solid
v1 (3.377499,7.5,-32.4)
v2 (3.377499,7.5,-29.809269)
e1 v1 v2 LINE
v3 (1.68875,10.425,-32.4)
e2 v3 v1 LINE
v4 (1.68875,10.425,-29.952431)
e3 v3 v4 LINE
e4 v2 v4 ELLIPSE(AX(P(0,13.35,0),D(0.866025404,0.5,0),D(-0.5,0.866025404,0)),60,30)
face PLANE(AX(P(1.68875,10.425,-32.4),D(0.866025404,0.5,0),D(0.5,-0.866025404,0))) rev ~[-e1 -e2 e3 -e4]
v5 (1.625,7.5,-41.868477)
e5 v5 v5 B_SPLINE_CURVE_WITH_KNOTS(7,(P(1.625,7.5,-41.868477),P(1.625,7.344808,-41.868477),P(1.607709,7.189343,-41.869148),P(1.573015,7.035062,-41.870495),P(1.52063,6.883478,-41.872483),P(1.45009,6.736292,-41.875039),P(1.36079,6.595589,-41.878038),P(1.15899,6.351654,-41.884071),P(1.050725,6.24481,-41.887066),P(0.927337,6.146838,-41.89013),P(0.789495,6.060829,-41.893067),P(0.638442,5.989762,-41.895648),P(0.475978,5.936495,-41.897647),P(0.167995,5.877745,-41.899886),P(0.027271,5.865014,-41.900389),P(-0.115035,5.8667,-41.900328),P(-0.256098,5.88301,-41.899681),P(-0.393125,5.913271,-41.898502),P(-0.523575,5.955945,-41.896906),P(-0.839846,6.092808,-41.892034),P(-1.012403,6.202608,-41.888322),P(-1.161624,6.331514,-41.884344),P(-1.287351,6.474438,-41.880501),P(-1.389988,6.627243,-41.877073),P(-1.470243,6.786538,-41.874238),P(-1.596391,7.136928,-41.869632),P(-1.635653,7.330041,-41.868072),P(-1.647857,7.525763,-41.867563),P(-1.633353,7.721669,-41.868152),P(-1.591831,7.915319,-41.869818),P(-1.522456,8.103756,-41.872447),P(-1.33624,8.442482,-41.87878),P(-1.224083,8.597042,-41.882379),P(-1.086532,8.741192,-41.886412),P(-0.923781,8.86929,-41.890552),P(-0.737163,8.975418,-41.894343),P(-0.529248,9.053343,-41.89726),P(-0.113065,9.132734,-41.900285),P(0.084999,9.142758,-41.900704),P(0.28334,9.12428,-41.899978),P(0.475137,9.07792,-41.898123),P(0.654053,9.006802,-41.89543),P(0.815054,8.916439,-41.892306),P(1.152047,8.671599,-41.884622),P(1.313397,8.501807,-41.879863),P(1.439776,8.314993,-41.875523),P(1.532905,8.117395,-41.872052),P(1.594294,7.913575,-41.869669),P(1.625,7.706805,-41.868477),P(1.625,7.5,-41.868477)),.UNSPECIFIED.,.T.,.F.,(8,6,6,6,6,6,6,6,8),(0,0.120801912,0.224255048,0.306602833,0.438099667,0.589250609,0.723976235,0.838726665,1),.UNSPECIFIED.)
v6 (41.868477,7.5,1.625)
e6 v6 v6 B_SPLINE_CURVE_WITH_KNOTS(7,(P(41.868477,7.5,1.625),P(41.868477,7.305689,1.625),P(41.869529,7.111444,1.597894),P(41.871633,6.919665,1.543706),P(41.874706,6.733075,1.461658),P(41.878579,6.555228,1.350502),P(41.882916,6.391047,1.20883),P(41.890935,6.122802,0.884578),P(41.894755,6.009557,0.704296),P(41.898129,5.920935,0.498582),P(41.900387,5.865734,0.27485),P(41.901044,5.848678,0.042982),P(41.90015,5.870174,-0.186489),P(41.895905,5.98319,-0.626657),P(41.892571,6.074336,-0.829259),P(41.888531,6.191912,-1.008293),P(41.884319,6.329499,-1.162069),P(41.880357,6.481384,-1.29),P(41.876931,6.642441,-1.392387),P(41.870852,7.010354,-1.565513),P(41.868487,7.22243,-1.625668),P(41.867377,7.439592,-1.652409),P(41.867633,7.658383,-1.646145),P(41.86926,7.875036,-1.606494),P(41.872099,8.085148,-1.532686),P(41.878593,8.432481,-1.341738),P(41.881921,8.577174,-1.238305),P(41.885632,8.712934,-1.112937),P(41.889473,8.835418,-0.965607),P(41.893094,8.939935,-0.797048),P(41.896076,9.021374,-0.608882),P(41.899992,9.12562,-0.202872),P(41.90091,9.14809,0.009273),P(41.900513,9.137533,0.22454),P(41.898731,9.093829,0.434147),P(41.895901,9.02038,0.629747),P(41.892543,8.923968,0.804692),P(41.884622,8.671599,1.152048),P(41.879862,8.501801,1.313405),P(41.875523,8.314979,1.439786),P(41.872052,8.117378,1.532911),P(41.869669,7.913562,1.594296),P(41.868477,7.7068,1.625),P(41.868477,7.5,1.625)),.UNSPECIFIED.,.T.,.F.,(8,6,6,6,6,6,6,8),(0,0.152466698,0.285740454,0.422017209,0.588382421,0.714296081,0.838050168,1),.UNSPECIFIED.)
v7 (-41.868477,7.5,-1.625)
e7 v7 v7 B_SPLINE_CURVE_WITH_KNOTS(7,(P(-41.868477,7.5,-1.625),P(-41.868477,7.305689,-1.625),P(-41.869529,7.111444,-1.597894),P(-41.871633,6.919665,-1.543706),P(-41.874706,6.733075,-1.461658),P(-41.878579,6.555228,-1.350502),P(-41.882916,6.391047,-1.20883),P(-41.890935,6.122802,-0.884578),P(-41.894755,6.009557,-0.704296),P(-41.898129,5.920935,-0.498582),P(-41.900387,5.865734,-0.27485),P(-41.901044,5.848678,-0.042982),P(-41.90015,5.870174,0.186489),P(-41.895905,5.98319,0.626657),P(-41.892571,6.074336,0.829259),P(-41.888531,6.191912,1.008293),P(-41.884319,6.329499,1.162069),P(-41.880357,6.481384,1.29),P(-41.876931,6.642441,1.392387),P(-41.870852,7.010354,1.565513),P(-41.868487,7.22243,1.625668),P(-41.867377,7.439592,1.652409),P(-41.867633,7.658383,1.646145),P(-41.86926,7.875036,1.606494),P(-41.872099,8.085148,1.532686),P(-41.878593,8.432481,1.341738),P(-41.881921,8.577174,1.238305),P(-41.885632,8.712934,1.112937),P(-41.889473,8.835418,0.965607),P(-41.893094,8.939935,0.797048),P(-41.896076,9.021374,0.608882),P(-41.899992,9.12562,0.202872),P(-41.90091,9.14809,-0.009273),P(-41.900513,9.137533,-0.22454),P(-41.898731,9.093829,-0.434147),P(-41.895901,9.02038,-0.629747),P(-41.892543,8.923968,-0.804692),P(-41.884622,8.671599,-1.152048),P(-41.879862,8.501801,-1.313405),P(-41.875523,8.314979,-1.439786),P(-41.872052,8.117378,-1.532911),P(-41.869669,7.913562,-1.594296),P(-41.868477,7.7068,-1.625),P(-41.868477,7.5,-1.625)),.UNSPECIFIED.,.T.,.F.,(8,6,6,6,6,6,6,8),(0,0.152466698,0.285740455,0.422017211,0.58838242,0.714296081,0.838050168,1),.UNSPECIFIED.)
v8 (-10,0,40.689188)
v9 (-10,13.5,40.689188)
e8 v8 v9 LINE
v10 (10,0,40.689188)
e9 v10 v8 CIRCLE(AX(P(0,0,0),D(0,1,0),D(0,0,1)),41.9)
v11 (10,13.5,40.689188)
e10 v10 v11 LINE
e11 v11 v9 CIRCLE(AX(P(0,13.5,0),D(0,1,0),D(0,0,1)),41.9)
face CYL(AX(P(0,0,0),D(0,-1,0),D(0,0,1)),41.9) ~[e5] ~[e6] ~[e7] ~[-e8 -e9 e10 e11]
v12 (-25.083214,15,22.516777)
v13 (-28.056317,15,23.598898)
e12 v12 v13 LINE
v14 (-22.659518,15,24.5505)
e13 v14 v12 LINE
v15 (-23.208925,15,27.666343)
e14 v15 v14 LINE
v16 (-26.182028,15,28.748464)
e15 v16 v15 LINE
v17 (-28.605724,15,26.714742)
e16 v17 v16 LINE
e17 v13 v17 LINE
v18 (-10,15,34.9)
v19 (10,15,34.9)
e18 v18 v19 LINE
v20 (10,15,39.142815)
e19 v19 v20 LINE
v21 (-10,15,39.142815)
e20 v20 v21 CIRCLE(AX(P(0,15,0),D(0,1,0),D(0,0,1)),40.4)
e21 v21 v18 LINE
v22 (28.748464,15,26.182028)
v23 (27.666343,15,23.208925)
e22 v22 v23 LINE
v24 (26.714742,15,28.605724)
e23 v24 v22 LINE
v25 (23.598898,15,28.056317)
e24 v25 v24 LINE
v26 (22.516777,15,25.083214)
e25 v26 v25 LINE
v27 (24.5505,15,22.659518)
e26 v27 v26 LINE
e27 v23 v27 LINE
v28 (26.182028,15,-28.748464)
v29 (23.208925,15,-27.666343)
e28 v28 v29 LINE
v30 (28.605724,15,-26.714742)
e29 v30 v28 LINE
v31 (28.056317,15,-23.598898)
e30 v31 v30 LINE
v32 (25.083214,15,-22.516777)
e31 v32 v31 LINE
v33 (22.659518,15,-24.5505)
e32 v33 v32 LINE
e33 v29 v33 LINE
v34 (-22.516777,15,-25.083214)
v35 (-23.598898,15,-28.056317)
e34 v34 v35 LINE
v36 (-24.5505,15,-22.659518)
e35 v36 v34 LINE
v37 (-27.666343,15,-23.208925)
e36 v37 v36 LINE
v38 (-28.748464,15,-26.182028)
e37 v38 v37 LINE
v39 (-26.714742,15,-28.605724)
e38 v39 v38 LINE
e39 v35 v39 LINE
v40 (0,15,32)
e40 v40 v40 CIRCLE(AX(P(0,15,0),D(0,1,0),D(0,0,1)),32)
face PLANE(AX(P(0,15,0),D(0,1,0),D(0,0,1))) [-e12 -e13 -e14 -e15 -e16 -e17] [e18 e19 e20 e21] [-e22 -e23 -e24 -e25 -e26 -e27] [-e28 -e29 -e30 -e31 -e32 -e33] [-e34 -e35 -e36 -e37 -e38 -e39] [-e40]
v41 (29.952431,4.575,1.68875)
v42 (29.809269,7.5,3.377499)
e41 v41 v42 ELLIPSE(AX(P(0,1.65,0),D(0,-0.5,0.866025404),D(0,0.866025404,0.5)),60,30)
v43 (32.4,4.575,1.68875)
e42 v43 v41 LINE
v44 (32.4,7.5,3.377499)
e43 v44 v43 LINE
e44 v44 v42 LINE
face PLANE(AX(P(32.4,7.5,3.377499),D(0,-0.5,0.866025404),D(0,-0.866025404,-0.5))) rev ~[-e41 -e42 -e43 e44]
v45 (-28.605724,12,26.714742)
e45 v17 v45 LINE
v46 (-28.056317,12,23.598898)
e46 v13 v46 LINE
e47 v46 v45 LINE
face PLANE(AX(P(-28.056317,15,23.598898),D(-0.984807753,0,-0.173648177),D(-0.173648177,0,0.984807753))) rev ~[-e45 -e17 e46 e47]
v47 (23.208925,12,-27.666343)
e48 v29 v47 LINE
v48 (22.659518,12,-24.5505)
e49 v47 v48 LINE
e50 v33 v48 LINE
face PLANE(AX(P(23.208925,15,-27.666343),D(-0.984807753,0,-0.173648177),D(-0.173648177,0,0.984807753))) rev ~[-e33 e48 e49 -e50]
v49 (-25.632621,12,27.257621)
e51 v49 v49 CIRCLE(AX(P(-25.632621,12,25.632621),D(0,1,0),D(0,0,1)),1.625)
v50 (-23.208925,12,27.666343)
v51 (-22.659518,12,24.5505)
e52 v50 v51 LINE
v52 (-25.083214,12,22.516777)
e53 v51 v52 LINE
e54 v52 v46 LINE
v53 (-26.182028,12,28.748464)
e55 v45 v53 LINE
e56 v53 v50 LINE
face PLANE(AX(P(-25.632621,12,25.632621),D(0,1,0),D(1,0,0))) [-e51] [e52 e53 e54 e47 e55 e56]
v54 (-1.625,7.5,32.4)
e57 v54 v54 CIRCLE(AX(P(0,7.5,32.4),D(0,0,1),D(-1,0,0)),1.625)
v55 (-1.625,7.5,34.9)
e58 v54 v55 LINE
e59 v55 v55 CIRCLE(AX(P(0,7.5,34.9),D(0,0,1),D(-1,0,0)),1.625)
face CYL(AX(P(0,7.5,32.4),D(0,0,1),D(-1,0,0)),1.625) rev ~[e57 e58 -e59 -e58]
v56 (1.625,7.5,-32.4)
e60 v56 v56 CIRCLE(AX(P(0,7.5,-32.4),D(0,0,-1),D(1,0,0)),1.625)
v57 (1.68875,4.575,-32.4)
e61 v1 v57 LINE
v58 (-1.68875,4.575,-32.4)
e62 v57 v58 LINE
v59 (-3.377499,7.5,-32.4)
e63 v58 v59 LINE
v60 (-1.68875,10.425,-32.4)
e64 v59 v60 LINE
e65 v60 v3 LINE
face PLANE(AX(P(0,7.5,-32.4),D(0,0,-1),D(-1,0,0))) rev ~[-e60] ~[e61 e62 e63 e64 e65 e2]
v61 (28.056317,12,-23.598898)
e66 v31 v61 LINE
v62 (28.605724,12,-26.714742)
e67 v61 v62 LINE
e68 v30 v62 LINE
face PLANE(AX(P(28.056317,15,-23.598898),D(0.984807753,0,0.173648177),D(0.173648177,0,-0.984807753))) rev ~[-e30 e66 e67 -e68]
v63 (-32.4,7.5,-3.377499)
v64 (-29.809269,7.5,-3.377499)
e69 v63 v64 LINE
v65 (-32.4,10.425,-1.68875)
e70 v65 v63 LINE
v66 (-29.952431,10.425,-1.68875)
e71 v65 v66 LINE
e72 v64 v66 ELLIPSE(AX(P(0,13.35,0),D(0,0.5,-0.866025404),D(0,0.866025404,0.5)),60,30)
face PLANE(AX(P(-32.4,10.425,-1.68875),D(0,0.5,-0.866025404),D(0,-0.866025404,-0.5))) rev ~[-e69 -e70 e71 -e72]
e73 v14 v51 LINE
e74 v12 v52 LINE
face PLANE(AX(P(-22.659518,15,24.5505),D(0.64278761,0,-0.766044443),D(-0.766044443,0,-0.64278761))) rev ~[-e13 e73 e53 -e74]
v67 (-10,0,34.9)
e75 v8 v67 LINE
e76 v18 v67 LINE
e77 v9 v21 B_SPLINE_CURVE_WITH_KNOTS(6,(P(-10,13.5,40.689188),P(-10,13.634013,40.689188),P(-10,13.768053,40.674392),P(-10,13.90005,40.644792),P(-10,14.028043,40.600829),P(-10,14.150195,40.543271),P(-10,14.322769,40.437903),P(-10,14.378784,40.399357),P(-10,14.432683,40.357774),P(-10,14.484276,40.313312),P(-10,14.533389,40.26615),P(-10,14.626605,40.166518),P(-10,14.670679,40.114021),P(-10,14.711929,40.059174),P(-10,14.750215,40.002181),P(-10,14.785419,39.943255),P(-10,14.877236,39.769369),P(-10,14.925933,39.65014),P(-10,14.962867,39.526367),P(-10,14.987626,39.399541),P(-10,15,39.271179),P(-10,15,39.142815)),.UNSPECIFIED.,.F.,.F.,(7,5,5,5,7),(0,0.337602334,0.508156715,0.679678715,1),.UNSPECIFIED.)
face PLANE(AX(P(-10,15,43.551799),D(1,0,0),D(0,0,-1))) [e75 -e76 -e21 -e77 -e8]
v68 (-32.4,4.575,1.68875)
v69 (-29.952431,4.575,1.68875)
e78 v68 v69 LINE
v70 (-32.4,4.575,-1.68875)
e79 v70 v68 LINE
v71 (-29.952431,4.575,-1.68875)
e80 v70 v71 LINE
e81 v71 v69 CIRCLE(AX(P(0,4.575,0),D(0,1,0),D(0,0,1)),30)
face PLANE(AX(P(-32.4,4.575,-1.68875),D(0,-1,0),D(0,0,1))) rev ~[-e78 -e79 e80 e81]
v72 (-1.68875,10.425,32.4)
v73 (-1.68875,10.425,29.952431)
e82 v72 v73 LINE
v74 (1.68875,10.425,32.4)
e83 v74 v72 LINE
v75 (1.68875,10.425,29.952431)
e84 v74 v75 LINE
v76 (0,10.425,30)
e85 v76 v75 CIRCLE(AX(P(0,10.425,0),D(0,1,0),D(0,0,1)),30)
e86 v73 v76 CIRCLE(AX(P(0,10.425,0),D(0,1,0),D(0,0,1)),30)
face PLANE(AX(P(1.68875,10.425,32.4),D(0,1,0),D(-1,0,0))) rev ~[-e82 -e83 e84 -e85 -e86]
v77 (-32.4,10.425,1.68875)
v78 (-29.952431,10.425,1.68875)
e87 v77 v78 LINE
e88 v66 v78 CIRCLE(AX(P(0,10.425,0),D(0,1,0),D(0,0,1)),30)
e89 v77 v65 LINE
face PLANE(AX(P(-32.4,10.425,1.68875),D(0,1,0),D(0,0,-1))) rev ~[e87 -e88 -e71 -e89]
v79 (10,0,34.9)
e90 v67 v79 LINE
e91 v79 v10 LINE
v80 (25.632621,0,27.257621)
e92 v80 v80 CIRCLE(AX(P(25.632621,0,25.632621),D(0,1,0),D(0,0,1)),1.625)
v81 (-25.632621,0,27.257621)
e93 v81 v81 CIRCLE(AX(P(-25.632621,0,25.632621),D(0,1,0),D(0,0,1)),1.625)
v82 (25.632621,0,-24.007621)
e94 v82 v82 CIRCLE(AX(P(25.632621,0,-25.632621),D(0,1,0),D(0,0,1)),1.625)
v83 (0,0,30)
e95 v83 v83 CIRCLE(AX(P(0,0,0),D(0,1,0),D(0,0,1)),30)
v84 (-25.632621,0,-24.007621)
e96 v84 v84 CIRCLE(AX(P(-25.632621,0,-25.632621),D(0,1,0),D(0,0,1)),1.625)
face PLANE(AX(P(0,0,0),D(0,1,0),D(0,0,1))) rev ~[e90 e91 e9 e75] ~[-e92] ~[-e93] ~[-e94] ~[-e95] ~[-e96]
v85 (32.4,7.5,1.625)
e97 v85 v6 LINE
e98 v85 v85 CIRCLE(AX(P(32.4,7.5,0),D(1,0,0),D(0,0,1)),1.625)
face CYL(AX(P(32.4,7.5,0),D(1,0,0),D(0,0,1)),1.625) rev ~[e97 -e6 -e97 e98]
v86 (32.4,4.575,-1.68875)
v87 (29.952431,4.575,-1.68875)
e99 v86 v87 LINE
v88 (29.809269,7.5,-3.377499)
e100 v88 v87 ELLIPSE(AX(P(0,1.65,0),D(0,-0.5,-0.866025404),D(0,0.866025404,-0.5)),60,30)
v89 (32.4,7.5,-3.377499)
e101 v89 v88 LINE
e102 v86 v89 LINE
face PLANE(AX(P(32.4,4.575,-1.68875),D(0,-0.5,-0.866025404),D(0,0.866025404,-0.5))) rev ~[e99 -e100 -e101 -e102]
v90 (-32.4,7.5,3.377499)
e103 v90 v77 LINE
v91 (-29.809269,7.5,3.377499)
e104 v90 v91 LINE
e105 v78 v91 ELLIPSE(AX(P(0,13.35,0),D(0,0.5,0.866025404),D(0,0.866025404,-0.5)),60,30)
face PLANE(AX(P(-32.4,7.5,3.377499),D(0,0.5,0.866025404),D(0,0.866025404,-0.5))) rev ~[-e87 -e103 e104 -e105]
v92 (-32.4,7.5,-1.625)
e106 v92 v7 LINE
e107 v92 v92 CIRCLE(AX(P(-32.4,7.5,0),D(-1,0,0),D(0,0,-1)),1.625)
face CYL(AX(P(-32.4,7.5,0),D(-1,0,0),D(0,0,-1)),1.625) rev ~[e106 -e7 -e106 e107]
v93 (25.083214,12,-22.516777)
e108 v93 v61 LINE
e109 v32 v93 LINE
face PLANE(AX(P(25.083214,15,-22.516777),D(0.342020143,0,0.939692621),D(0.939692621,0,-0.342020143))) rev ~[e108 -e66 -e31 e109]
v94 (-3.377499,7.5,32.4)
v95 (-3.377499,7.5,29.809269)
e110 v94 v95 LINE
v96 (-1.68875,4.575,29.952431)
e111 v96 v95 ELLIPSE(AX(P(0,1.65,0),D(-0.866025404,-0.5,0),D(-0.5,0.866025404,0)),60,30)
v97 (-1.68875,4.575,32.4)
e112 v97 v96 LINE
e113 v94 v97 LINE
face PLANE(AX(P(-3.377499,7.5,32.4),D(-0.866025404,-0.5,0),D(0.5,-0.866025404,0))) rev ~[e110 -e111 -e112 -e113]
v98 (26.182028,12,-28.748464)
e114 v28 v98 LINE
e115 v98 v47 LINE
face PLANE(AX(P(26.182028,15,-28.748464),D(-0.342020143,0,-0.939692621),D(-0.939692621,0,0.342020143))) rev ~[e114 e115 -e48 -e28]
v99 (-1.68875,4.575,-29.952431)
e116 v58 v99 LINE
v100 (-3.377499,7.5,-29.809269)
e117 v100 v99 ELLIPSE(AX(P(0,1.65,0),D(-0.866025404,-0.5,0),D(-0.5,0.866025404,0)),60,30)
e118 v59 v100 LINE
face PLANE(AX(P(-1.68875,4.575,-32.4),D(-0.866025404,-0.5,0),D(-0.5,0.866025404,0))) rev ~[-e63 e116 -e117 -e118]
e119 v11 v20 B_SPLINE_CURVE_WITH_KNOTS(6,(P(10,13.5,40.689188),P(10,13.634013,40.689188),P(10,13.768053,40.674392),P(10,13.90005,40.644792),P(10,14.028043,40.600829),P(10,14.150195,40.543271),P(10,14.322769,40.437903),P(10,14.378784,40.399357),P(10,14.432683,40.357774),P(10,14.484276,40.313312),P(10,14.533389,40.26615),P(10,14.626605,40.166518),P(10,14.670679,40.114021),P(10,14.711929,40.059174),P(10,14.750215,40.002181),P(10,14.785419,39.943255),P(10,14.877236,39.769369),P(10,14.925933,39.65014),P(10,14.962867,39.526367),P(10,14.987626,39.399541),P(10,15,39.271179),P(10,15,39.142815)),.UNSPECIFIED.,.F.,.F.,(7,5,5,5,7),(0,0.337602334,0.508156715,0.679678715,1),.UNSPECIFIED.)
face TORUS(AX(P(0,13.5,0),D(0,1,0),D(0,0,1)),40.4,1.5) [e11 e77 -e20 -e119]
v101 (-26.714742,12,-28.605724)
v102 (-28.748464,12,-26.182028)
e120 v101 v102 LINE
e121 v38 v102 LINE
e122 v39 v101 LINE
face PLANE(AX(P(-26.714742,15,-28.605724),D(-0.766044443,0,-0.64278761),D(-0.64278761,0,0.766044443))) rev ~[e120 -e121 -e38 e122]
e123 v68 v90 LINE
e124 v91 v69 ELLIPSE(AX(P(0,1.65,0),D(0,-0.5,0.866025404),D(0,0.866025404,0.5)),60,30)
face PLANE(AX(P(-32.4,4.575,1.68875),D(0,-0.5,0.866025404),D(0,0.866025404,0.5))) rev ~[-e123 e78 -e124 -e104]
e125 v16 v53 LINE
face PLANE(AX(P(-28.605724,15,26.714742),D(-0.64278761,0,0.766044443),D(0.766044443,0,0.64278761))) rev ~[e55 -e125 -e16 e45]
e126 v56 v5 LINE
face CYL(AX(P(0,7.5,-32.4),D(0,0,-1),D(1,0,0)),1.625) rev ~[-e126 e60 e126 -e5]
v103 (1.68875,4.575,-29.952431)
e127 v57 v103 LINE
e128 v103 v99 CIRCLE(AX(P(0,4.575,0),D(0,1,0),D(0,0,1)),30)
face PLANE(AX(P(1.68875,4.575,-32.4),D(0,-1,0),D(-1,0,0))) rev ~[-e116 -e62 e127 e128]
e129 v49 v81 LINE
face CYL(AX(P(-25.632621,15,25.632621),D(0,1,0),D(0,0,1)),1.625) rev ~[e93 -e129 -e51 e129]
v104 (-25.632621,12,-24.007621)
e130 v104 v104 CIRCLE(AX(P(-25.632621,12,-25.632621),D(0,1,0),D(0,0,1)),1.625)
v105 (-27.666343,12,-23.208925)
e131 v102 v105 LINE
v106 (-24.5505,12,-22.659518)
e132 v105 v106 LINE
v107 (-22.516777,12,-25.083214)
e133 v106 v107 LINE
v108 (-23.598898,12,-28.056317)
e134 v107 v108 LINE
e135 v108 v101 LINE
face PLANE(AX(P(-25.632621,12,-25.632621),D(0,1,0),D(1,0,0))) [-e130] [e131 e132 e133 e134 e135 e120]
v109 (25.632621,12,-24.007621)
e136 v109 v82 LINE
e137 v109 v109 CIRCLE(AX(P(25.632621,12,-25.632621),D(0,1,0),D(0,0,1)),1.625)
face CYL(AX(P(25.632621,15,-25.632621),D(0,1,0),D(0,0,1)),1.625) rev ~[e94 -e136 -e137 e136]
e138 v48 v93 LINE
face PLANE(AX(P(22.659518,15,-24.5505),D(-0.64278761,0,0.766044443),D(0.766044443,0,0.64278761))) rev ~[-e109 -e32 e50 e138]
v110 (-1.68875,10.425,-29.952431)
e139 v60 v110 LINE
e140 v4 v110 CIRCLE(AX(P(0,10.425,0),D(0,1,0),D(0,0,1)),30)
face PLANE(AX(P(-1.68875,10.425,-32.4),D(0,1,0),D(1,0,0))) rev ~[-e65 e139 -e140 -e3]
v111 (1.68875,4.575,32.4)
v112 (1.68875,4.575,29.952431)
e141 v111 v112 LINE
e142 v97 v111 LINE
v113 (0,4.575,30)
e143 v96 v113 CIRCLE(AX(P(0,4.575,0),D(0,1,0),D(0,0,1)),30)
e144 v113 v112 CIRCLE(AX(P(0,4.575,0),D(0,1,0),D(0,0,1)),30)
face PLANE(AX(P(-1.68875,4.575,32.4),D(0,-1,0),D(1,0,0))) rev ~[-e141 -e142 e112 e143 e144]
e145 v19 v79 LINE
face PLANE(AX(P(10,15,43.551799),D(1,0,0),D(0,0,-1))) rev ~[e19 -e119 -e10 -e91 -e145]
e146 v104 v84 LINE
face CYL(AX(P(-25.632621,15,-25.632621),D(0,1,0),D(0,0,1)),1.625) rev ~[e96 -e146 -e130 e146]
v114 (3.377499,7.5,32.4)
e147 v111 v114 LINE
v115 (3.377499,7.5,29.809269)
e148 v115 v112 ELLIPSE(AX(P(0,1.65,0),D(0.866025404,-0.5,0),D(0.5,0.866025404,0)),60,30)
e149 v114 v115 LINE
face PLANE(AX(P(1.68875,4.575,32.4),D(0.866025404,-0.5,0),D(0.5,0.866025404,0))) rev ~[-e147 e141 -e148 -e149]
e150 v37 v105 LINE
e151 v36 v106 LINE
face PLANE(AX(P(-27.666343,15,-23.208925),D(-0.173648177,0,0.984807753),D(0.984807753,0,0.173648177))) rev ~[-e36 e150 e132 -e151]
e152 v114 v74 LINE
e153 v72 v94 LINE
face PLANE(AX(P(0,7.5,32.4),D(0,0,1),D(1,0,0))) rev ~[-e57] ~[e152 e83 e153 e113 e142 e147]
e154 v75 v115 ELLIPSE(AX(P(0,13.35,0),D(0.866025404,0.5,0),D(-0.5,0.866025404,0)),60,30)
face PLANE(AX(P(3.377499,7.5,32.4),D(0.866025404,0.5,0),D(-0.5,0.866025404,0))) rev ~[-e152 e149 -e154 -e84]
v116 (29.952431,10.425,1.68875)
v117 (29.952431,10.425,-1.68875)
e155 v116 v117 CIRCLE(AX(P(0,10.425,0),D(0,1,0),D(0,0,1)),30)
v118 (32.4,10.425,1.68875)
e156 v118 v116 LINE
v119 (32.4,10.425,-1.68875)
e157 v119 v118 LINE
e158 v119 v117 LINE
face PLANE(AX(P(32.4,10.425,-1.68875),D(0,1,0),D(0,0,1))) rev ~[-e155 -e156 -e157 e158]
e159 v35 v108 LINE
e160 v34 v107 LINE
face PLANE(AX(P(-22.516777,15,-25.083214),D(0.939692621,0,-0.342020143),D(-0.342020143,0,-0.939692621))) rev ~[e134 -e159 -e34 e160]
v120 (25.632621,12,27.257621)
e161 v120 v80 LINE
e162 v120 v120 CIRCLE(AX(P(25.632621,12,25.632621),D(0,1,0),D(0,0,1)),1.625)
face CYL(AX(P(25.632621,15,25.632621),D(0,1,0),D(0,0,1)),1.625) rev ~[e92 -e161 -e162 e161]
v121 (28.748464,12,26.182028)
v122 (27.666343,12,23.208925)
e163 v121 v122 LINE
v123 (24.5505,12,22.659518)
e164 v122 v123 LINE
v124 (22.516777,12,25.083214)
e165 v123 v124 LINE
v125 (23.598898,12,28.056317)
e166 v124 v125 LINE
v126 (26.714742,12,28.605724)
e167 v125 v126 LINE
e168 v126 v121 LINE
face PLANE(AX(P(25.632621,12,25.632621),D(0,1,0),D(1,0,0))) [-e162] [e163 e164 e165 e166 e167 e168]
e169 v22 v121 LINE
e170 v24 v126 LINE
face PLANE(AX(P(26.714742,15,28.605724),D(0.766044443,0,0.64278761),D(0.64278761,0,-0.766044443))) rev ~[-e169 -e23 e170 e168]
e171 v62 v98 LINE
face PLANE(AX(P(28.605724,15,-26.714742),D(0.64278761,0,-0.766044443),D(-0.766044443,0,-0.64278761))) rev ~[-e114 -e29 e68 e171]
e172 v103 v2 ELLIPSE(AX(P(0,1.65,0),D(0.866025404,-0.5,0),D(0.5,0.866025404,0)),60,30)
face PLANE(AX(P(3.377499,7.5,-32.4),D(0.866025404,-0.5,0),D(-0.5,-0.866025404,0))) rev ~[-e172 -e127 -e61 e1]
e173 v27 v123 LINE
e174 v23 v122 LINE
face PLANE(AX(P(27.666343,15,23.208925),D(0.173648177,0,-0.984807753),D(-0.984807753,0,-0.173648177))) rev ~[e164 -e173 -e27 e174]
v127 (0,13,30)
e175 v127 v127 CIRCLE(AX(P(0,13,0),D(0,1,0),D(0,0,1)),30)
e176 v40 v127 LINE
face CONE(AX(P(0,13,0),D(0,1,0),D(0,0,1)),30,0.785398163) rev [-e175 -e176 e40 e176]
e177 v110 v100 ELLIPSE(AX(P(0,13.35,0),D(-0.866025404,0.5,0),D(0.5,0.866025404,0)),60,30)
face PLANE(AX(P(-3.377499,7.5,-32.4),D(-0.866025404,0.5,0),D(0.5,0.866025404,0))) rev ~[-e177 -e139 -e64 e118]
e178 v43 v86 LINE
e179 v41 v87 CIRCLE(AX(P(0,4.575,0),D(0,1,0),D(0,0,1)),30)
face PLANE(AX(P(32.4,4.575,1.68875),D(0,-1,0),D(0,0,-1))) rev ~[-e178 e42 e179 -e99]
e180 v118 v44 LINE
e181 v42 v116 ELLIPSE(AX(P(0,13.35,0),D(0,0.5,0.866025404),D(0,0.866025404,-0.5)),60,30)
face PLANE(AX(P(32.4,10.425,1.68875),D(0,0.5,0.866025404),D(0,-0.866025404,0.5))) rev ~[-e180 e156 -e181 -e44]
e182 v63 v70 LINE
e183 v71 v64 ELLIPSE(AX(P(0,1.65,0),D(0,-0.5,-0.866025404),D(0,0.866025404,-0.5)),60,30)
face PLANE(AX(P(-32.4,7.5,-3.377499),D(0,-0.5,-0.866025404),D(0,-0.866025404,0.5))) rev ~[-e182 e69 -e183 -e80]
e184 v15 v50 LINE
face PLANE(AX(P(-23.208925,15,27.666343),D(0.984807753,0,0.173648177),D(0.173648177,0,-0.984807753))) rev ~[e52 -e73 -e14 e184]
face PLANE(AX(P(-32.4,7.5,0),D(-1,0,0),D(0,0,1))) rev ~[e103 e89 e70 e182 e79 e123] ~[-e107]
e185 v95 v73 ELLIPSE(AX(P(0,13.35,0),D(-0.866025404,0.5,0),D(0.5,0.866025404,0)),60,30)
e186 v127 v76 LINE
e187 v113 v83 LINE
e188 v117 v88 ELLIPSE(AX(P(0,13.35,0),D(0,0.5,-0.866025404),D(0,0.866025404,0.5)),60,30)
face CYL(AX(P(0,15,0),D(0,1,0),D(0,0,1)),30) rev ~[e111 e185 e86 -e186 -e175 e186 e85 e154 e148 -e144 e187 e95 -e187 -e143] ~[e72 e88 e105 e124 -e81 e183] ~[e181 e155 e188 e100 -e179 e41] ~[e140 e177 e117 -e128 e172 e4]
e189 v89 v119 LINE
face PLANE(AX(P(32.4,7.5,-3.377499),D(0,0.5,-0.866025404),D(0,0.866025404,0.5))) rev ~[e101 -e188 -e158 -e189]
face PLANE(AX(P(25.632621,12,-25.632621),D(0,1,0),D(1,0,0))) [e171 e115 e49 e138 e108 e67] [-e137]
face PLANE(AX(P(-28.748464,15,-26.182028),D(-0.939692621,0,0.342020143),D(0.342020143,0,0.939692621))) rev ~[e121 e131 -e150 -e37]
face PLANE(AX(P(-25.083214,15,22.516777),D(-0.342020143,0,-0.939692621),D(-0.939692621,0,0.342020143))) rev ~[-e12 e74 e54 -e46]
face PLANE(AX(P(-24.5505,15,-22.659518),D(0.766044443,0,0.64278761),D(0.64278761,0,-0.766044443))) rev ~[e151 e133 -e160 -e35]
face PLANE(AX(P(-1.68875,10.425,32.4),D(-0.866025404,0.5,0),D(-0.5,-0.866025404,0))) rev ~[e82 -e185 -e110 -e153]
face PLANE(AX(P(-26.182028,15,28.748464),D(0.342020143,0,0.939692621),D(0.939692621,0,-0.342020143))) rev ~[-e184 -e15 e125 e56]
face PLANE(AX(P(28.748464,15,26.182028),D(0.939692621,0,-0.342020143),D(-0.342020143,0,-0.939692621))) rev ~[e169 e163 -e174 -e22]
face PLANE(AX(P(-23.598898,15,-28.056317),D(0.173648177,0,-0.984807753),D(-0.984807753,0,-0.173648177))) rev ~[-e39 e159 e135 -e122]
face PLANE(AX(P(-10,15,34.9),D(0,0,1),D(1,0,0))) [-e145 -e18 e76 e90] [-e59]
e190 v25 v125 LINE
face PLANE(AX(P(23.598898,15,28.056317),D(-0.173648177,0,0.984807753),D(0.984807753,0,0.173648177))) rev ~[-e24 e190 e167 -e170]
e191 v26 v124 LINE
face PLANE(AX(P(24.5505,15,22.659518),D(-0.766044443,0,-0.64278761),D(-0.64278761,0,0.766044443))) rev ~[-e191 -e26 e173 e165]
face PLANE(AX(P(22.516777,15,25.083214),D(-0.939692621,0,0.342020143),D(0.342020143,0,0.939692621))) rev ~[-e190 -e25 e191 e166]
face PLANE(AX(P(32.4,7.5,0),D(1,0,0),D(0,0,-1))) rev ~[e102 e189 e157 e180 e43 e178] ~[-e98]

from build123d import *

# Parameters (mm, degrees)
SKETCH1_R               = 41.9
TOP_PART_DEPTH          = 15
SKETCH2_R               = 30
CUT_EXTRUDE1_DEPTH      = 20
FILLET1_R               = 1.5
CHAMFER1_SIZE           = 2
SKETCH8_7_R             = 1.625
CUT_EXTRUDE8_DEPTH      = 3
SKETCH8_R               = 1.625
CUT_EXTRUDE7_DEPTH      = 62.124626857
CUT_EXTRUDE11_DEPTH     = 62.124626857
SKETCH15_R              = 1.625
CUT_EXTRUDE14_DEPTH     = 10
CUT_EXTRUDE15_DEPTH     = 10
CIRPATTERN1_COUNT       = 4
CIRPATTERN2_COUNT       = 4
SKETCH3_R               = 41.9
BOTTOM_PART_DEPTH       = 20
SKETCH6_R               = 37.9
CUT_EXTRUDE3_DEPTH      = 63.076324134
SKETCH_1_W              = 43
SKETCH_1_H              = 43
EXTRUDE_1_DEPTH         = 8
FILLET_1_R              = 5
CUT_EXTRUDE4_DEPTH      = 63.076324134
CUT_EXTRUDE4_DEPTH_BACK = 63.076324134
SKETCH7_R               = 17.5
SKETCH7_R_2             = 1
SKETCH12_W              = 39.5
SKETCH12_H              = 39.5
CUT_EXTRUDE10_DEPTH     = 8.5
FILLET3_R               = 2
SKETCH17_R              = 1.625
CUT_EXTRUDE16_DEPTH     = 63.076324134
SKETCH18_R              = 3
CUT_EXTRUDE17_DEPTH     = 63.076324134
SKETCH19_R              = 2.75
BOSS_EXTRUDE1_DEPTH     = 18.5
SKETCH20_W              = 87.79908129
SKETCH20_H              = 93.09964502
CUT_EXTRUDE18_DEPTH     = 10
SKETCH21_W              = 20
SKETCH21_H              = 8.651798588
CUT_EXTRUDE19_DEPTH     = 15
SKETCH23_R              = 30
CUT_EXTRUDE21_DEPTH     = 65.313451299
SKETCH24_R              = 41.9
CUT_EXTRUDE22_DEPTH     = 10


with BuildPart() as part:
    # Sketch1 → Top-Part (new body)
    with BuildSketch(Plane(origin=(0, 0, 0), x_dir=(1, 0, 0), z_dir=(0, 1, 0))):
        with Locations(Location((0, 0, 0), (0, 0, 270))):
            Circle(SKETCH1_R)
    extrude(amount=TOP_PART_DEPTH)

    # Sketch2 → Cut-Extrude1 (cut)
    with BuildSketch(Plane(origin=(0, 15, 0), x_dir=(1, 0, 0), z_dir=(0, 1, 0))):
        with Locations(Location((0, 0, 0), (0, 0, 270))):
            Circle(SKETCH2_R)
    extrude(amount=-CUT_EXTRUDE1_DEPTH, mode=Mode.SUBTRACT)

    # Fillet1
    fillet1_edges = [part.edges().sort_by_distance(p)[0] for p in [
        (0, 15, -41.9),
    ]]
    fillet(fillet1_edges, radius=FILLET1_R)

    # Chamfer1
    chamfer1_edges = [part.edges().sort_by_distance(p)[0] for p in [
        (0, 15, -30),
    ]]
    chamfer(chamfer1_edges, length=CHAMFER1_SIZE)

    # Sketch8<7> → Cut-Extrude8 (cut)
    # profile 1 of 4: a face of its own
    with BuildSketch(Plane(origin=(0, 15, 0), x_dir=(1, 0, 0), z_dir=(0, 1, 0))):
        Polygon((25.083213555, 22.516777398), (28.056316743, 23.598898462), (28.605724005, 26.714741882), (26.182028081, 28.748464238), (23.208924893, 27.666343174), (22.659517631, 24.550499754), align=None)
        with Locations(Location((25.632620818, 25.632620818, 0), (0, 0, 270))):
            Circle(SKETCH8_7_R, mode=Mode.SUBTRACT)
    # profile 2 of 4: a face of its own
    with BuildSketch(Plane(origin=(0, 15, 0), x_dir=(1, 0, 0), z_dir=(0, 1, 0))):
        Polygon((-22.516777398, 25.083213555), (-23.598898462, 28.056316743), (-26.714741882, 28.605724005), (-28.748464238, 26.182028081), (-27.666343174, 23.208924893), (-24.550499754, 22.659517631), align=None)
        with Locations(Location((-25.632620818, 25.632620818, 0), (0, 0, 270))):
            Circle(SKETCH8_7_R, mode=Mode.SUBTRACT)
    # profile 3 of 4: a face of its own
    with BuildSketch(Plane(origin=(0, 15, 0), x_dir=(1, 0, 0), z_dir=(0, 1, 0))):
        Polygon((22.516777398, -25.083213555), (23.598898462, -28.056316743), (26.714741882, -28.605724005), (28.748464238, -26.182028081), (27.666343174, -23.208924893), (24.550499754, -22.659517631), align=None)
        with Locations(Location((25.632620818, -25.632620818, 0), (0, 0, 270))):
            Circle(SKETCH8_7_R, mode=Mode.SUBTRACT)
    # profile 4 of 4: a face of its own
    with BuildSketch(Plane(origin=(0, 15, 0), x_dir=(1, 0, 0), z_dir=(0, 1, 0))):
        Polygon((-25.083213555, -22.516777398), (-28.056316743, -23.598898462), (-28.605724005, -26.714741882), (-26.182028081, -28.748464238), (-23.208924893, -27.666343174), (-22.659517631, -24.550499754), align=None)
        with Locations(Location((-25.632620818, -25.632620818, 0), (0, 0, 270))):
            Circle(SKETCH8_7_R, mode=Mode.SUBTRACT)
    extrude(amount=-CUT_EXTRUDE8_DEPTH, mode=Mode.SUBTRACT)

    # Sketch8 → Cut-Extrude7 (cut, through all)
    with BuildSketch(Plane(origin=(0, 15, 0), x_dir=(1, 0, 0), z_dir=(0, 1, 0))):
        with Locations(Location((-25.632620818, 25.632620818, 0), (0, 0, 270))):
            Circle(SKETCH8_R)
        with Locations(Location((25.632620818, 25.632620818, 0), (0, 0, 270))):
            Circle(SKETCH8_R)
        with Locations(Location((25.632620818, -25.632620818, 0), (0, 0, 270))):
            Circle(SKETCH8_R)
        with Locations(Location((-25.632620818, -25.632620818, 0), (0, 0, 270))):
            Circle(SKETCH8_R)
    extrude(amount=-CUT_EXTRUDE7_DEPTH, mode=Mode.SUBTRACT)

    # Sketch13 → Cut-Extrude11 (cut, through all)
    with BuildSketch(Plane.XZ):
        with BuildLine():
            Line((-10, 35.519149765), (-10, 40.689187753))
            ThreePointArc((-10, 40.689187753), (0, 41.9), (10, 40.689187753))
            Line((10, 40.689187753), (10, 35.519149765))
            ThreePointArc((10, 35.519149765), (0, 36.9), (-10, 35.519149765))
        make_face()
    extrude(amount=-CUT_EXTRUDE11_DEPTH, mode=Mode.SUBTRACT)

    # Sketch15 → Cut-Extrude14 (cut, symmetric)
    with BuildSketch(Plane.XY.offset(32.4)):
        with Locations(Location((0, 7.5, 0), (0, 0, 180))):
            Circle(SKETCH15_R)
    cut_extrude14 = extrude(amount=CUT_EXTRUDE14_DEPTH, both=True, mode=Mode.SUBTRACT)

    # Sketch16 → Cut-Extrude15 (cut)
    with BuildSketch(Plane.XY.offset(32.4)):
        Polygon((3.377499075, 7.5), (1.688749537, 10.425), (-1.688749537, 10.425), (-3.377499075, 7.5), (-1.688749537, 4.575), (1.688749537, 4.575), align=None)
    cut_extrude15 = extrude(amount=-CUT_EXTRUDE15_DEPTH, mode=Mode.SUBTRACT)

    # CirPattern1: Cut-Extrude14 ×4 about axis
    cirpattern1_axis = Axis((0, 0, 0), (0, 1, 0))
    for i in range(1, CIRPATTERN1_COUNT):
        add(cut_extrude14.rotate(cirpattern1_axis, i * 360 / CIRPATTERN1_COUNT), mode=Mode.SUBTRACT)

    # CirPattern2: Cut-Extrude15 ×4 about axis
    cirpattern2_axis = Axis((0, 0, 0), (0, 1, 0))
    for i in range(1, CIRPATTERN2_COUNT):
        add(cut_extrude15.rotate(cirpattern2_axis, i * 360 / CIRPATTERN2_COUNT), mode=Mode.SUBTRACT)

    # Sketch21 → Cut-Extrude19 (cut)
    with BuildSketch(Plane(origin=(0, 15, 0), x_dir=(1, 0, 0), z_dir=(0, 1, 0))):
        with Locations((0, -39.225899294)):
            Rectangle(SKETCH21_W, SKETCH21_H)
    extrude(amount=-CUT_EXTRUDE19_DEPTH, mode=Mode.SUBTRACT)


with BuildPart() as body_2:
    # Sketch3 → Bottom-Part (new body)
    with BuildSketch(Plane.XZ):
        with Locations(Location((0, 0, 0), (0, 0, 270))):
            Circle(SKETCH3_R)
    extrude(amount=BOTTOM_PART_DEPTH)

    # Sketch6 → Cut-Extrude3 (cut, through all)
    with BuildSketch(Plane(origin=(0, -1.5, 0), x_dir=(1, 0, 0), z_dir=(0, 1, 0))):
        with Locations(Location((0, 0, 0), (0, 0, 270))):
            Circle(SKETCH6_R)
    extrude(amount=-CUT_EXTRUDE3_DEPTH, mode=Mode.SUBTRACT)

    # ｽｹｯﾁ1 → ﾎﾞｽ - 押し出し1 (add)
    with BuildSketch(Plane(origin=(0, 0, 0), x_dir=(1, 0, 0), z_dir=(0, 1, 0))):
        Rectangle(SKETCH_1_W, SKETCH_1_H)
    extrude(amount=EXTRUDE_1_DEPTH)

    # ﾌｨﾚｯﾄ1
    fillet_1_edges = [body_2.edges().sort_by_distance(p)[0] for p in [
        (-21.5, 4, -21.5),
        (-21.5, 4, 21.5),
        (21.5, 4, 21.5),
        (21.5, 4, -21.5),
    ]]
    fillet(fillet_1_edges, radius=FILLET_1_R)

    # Sketch7 → Cut-Extrude4 (cut, two sides: drawn at the far end of the back side and taken through both)
    with BuildSketch(Plane(origin=(0, -1.5, 0), x_dir=(1, 0, 0), z_dir=(0, 1, 0)).offset(-CUT_EXTRUDE4_DEPTH_BACK)):
        with Locations(Location((0, 0, 0), (0, 0, 270))):
            Circle(SKETCH7_R)
        with Locations(Location((17, -17, 0), (0, 0, 270))):
            Circle(SKETCH7_R_2)
        with Locations(Location((-17, -17, 0), (0, 0, 270))):
            Circle(SKETCH7_R_2)
        with Locations(Location((-17, 17, 0), (0, 0, 270))):
            Circle(SKETCH7_R_2)
        with Locations(Location((17, 17, 0), (0, 0, 270))):
            Circle(SKETCH7_R_2)
    extrude(amount=CUT_EXTRUDE4_DEPTH + CUT_EXTRUDE4_DEPTH_BACK, mode=Mode.SUBTRACT)

    # Sketch12 → Cut-Extrude10 (cut)
    with BuildSketch(Plane.XZ.offset(1.5)):
        Rectangle(SKETCH12_W, SKETCH12_H)
    extrude(amount=-CUT_EXTRUDE10_DEPTH, mode=Mode.SUBTRACT)

    # Fillet3
    fillet3_edges = [body_2.edges().sort_by_distance(p)[0] for p in [
        (-19.75, 2.75, -19.75),
        (-19.75, 2.75, 19.75),
        (19.75, 2.75, 19.75),
        (19.75, 2.75, -19.75),
    ]]
    fillet(fillet3_edges, radius=FILLET3_R)

    # Sketch17 → Cut-Extrude16 (cut, through all)
    with BuildSketch(Plane.XZ.offset(1.5)):
        with Locations(Location((25.632620818, -25.632620818, 0), (0, 0, 90))):
            Circle(SKETCH17_R)
        with Locations(Location((-25.632620818, -25.632620818, 0), (0, 0, 90))):
            Circle(SKETCH17_R)
        with Locations(Location((25.632620818, 25.632620818, 0), (0, 0, 90))):
            Circle(SKETCH17_R)
        with Locations(Location((-25.632620818, 25.632620818, 0), (0, 0, 90))):
            Circle(SKETCH17_R)
    extrude(amount=-CUT_EXTRUDE16_DEPTH, mode=Mode.SUBTRACT)

    # Sketch18 → Cut-Extrude17 (cut, through all)
    with BuildSketch(Plane.XZ.offset(1.5)):
        with Locations((-25.632620818, 25.632620818)):
            Circle(SKETCH18_R)
        with Locations((25.632620818, 25.632620818)):
            Circle(SKETCH18_R)
        with Locations((25.632620818, -25.632620818)):
            Circle(SKETCH18_R)
        with Locations((-25.632620818, -25.632620818)):
            Circle(SKETCH18_R)
    extrude(amount=CUT_EXTRUDE17_DEPTH, mode=Mode.SUBTRACT)

    # Sketch19 → Boss-Extrude1 (add)
    # profile 1 of 4: a face of its own
    with BuildSketch(Plane.XZ.offset(1.5)):
        with BuildLine():
            Line((-6, 33), (-6, 37.422052322))
            ThreePointArc((-6, 37.422052322), (0, 37.9), (6, 37.422052322))
            Line((6, 37.422052322), (6, 33))
            ThreePointArc((6, 33), (0, 27), (-6, 33))
        make_face()
        with Locations(Location((0, 33, 0), (0, 0, 270))):
            Circle(SKETCH19_R, mode=Mode.SUBTRACT)
    # profile 2 of 4: a face of its own
    with BuildSketch(Plane.XZ.offset(1.5)):
        with BuildLine():
            Line((33, 6), (37.422052322, 6))
            ThreePointArc((37.422052322, 6), (37.9, 0), (37.422052322, -6))
            Line((37.422052322, -6), (33, -6))
            ThreePointArc((33, -6), (27, 0), (33, 6))
        make_face()
        with Locations(Location((33, 0, 0), (0, 0, 270))):
            Circle(SKETCH19_R, mode=Mode.SUBTRACT)
    # profile 3 of 4: a face of its own
    with BuildSketch(Plane.XZ.offset(1.5)):
        with BuildLine():
            Line((6, -33), (6, -37.422052322))
            ThreePointArc((6, -37.422052322), (0, -37.9), (-6, -37.422052322))
            Line((-6, -37.422052322), (-6, -33))
            ThreePointArc((-6, -33), (0, -27), (6, -33))
        make_face()
        with Locations(Location((0, -33, 0), (0, 0, 270))):
            Circle(SKETCH19_R, mode=Mode.SUBTRACT)
    # profile 4 of 4: a face of its own
    with BuildSketch(Plane.XZ.offset(1.5)):
        with BuildLine():
            Line((-33, -6), (-37.422052322, -6))
            ThreePointArc((-37.422052322, -6), (-37.9, 0), (-37.422052322, 6))
            Line((-37.422052322, 6), (-33, 6))
            ThreePointArc((-33, 6), (-27, 0), (-33, -6))
        make_face()
        with Locations(Location((-33, 0, 0), (0, 0, 270))):
            Circle(SKETCH19_R, mode=Mode.SUBTRACT)
    extrude(amount=BOSS_EXTRUDE1_DEPTH)

    # Sketch20 → Cut-Extrude18 (cut)
    with BuildSketch(Plane.XZ.offset(20)):
        Rectangle(SKETCH20_W, SKETCH20_H)
    extrude(amount=-CUT_EXTRUDE18_DEPTH, mode=Mode.SUBTRACT)

    # Sketch23 → Cut-Extrude21 (cut, through all)
    with BuildSketch(Plane(origin=(0, 15, 0), x_dir=(1, 0, 0), z_dir=(0, 1, 0))):
        with Locations(Location((0, 0, 0), (0, 0, 270))):
            Circle(SKETCH23_R)
    extrude(amount=-CUT_EXTRUDE21_DEPTH, mode=Mode.SUBTRACT)

    # Sketch24 → Cut-Extrude22 (cut)
    with BuildSketch(Plane.XZ.offset(10)):
        Circle(SKETCH24_R)
    extrude(amount=-CUT_EXTRUDE22_DEPTH, mode=Mode.SUBTRACT)


solid = part.part
